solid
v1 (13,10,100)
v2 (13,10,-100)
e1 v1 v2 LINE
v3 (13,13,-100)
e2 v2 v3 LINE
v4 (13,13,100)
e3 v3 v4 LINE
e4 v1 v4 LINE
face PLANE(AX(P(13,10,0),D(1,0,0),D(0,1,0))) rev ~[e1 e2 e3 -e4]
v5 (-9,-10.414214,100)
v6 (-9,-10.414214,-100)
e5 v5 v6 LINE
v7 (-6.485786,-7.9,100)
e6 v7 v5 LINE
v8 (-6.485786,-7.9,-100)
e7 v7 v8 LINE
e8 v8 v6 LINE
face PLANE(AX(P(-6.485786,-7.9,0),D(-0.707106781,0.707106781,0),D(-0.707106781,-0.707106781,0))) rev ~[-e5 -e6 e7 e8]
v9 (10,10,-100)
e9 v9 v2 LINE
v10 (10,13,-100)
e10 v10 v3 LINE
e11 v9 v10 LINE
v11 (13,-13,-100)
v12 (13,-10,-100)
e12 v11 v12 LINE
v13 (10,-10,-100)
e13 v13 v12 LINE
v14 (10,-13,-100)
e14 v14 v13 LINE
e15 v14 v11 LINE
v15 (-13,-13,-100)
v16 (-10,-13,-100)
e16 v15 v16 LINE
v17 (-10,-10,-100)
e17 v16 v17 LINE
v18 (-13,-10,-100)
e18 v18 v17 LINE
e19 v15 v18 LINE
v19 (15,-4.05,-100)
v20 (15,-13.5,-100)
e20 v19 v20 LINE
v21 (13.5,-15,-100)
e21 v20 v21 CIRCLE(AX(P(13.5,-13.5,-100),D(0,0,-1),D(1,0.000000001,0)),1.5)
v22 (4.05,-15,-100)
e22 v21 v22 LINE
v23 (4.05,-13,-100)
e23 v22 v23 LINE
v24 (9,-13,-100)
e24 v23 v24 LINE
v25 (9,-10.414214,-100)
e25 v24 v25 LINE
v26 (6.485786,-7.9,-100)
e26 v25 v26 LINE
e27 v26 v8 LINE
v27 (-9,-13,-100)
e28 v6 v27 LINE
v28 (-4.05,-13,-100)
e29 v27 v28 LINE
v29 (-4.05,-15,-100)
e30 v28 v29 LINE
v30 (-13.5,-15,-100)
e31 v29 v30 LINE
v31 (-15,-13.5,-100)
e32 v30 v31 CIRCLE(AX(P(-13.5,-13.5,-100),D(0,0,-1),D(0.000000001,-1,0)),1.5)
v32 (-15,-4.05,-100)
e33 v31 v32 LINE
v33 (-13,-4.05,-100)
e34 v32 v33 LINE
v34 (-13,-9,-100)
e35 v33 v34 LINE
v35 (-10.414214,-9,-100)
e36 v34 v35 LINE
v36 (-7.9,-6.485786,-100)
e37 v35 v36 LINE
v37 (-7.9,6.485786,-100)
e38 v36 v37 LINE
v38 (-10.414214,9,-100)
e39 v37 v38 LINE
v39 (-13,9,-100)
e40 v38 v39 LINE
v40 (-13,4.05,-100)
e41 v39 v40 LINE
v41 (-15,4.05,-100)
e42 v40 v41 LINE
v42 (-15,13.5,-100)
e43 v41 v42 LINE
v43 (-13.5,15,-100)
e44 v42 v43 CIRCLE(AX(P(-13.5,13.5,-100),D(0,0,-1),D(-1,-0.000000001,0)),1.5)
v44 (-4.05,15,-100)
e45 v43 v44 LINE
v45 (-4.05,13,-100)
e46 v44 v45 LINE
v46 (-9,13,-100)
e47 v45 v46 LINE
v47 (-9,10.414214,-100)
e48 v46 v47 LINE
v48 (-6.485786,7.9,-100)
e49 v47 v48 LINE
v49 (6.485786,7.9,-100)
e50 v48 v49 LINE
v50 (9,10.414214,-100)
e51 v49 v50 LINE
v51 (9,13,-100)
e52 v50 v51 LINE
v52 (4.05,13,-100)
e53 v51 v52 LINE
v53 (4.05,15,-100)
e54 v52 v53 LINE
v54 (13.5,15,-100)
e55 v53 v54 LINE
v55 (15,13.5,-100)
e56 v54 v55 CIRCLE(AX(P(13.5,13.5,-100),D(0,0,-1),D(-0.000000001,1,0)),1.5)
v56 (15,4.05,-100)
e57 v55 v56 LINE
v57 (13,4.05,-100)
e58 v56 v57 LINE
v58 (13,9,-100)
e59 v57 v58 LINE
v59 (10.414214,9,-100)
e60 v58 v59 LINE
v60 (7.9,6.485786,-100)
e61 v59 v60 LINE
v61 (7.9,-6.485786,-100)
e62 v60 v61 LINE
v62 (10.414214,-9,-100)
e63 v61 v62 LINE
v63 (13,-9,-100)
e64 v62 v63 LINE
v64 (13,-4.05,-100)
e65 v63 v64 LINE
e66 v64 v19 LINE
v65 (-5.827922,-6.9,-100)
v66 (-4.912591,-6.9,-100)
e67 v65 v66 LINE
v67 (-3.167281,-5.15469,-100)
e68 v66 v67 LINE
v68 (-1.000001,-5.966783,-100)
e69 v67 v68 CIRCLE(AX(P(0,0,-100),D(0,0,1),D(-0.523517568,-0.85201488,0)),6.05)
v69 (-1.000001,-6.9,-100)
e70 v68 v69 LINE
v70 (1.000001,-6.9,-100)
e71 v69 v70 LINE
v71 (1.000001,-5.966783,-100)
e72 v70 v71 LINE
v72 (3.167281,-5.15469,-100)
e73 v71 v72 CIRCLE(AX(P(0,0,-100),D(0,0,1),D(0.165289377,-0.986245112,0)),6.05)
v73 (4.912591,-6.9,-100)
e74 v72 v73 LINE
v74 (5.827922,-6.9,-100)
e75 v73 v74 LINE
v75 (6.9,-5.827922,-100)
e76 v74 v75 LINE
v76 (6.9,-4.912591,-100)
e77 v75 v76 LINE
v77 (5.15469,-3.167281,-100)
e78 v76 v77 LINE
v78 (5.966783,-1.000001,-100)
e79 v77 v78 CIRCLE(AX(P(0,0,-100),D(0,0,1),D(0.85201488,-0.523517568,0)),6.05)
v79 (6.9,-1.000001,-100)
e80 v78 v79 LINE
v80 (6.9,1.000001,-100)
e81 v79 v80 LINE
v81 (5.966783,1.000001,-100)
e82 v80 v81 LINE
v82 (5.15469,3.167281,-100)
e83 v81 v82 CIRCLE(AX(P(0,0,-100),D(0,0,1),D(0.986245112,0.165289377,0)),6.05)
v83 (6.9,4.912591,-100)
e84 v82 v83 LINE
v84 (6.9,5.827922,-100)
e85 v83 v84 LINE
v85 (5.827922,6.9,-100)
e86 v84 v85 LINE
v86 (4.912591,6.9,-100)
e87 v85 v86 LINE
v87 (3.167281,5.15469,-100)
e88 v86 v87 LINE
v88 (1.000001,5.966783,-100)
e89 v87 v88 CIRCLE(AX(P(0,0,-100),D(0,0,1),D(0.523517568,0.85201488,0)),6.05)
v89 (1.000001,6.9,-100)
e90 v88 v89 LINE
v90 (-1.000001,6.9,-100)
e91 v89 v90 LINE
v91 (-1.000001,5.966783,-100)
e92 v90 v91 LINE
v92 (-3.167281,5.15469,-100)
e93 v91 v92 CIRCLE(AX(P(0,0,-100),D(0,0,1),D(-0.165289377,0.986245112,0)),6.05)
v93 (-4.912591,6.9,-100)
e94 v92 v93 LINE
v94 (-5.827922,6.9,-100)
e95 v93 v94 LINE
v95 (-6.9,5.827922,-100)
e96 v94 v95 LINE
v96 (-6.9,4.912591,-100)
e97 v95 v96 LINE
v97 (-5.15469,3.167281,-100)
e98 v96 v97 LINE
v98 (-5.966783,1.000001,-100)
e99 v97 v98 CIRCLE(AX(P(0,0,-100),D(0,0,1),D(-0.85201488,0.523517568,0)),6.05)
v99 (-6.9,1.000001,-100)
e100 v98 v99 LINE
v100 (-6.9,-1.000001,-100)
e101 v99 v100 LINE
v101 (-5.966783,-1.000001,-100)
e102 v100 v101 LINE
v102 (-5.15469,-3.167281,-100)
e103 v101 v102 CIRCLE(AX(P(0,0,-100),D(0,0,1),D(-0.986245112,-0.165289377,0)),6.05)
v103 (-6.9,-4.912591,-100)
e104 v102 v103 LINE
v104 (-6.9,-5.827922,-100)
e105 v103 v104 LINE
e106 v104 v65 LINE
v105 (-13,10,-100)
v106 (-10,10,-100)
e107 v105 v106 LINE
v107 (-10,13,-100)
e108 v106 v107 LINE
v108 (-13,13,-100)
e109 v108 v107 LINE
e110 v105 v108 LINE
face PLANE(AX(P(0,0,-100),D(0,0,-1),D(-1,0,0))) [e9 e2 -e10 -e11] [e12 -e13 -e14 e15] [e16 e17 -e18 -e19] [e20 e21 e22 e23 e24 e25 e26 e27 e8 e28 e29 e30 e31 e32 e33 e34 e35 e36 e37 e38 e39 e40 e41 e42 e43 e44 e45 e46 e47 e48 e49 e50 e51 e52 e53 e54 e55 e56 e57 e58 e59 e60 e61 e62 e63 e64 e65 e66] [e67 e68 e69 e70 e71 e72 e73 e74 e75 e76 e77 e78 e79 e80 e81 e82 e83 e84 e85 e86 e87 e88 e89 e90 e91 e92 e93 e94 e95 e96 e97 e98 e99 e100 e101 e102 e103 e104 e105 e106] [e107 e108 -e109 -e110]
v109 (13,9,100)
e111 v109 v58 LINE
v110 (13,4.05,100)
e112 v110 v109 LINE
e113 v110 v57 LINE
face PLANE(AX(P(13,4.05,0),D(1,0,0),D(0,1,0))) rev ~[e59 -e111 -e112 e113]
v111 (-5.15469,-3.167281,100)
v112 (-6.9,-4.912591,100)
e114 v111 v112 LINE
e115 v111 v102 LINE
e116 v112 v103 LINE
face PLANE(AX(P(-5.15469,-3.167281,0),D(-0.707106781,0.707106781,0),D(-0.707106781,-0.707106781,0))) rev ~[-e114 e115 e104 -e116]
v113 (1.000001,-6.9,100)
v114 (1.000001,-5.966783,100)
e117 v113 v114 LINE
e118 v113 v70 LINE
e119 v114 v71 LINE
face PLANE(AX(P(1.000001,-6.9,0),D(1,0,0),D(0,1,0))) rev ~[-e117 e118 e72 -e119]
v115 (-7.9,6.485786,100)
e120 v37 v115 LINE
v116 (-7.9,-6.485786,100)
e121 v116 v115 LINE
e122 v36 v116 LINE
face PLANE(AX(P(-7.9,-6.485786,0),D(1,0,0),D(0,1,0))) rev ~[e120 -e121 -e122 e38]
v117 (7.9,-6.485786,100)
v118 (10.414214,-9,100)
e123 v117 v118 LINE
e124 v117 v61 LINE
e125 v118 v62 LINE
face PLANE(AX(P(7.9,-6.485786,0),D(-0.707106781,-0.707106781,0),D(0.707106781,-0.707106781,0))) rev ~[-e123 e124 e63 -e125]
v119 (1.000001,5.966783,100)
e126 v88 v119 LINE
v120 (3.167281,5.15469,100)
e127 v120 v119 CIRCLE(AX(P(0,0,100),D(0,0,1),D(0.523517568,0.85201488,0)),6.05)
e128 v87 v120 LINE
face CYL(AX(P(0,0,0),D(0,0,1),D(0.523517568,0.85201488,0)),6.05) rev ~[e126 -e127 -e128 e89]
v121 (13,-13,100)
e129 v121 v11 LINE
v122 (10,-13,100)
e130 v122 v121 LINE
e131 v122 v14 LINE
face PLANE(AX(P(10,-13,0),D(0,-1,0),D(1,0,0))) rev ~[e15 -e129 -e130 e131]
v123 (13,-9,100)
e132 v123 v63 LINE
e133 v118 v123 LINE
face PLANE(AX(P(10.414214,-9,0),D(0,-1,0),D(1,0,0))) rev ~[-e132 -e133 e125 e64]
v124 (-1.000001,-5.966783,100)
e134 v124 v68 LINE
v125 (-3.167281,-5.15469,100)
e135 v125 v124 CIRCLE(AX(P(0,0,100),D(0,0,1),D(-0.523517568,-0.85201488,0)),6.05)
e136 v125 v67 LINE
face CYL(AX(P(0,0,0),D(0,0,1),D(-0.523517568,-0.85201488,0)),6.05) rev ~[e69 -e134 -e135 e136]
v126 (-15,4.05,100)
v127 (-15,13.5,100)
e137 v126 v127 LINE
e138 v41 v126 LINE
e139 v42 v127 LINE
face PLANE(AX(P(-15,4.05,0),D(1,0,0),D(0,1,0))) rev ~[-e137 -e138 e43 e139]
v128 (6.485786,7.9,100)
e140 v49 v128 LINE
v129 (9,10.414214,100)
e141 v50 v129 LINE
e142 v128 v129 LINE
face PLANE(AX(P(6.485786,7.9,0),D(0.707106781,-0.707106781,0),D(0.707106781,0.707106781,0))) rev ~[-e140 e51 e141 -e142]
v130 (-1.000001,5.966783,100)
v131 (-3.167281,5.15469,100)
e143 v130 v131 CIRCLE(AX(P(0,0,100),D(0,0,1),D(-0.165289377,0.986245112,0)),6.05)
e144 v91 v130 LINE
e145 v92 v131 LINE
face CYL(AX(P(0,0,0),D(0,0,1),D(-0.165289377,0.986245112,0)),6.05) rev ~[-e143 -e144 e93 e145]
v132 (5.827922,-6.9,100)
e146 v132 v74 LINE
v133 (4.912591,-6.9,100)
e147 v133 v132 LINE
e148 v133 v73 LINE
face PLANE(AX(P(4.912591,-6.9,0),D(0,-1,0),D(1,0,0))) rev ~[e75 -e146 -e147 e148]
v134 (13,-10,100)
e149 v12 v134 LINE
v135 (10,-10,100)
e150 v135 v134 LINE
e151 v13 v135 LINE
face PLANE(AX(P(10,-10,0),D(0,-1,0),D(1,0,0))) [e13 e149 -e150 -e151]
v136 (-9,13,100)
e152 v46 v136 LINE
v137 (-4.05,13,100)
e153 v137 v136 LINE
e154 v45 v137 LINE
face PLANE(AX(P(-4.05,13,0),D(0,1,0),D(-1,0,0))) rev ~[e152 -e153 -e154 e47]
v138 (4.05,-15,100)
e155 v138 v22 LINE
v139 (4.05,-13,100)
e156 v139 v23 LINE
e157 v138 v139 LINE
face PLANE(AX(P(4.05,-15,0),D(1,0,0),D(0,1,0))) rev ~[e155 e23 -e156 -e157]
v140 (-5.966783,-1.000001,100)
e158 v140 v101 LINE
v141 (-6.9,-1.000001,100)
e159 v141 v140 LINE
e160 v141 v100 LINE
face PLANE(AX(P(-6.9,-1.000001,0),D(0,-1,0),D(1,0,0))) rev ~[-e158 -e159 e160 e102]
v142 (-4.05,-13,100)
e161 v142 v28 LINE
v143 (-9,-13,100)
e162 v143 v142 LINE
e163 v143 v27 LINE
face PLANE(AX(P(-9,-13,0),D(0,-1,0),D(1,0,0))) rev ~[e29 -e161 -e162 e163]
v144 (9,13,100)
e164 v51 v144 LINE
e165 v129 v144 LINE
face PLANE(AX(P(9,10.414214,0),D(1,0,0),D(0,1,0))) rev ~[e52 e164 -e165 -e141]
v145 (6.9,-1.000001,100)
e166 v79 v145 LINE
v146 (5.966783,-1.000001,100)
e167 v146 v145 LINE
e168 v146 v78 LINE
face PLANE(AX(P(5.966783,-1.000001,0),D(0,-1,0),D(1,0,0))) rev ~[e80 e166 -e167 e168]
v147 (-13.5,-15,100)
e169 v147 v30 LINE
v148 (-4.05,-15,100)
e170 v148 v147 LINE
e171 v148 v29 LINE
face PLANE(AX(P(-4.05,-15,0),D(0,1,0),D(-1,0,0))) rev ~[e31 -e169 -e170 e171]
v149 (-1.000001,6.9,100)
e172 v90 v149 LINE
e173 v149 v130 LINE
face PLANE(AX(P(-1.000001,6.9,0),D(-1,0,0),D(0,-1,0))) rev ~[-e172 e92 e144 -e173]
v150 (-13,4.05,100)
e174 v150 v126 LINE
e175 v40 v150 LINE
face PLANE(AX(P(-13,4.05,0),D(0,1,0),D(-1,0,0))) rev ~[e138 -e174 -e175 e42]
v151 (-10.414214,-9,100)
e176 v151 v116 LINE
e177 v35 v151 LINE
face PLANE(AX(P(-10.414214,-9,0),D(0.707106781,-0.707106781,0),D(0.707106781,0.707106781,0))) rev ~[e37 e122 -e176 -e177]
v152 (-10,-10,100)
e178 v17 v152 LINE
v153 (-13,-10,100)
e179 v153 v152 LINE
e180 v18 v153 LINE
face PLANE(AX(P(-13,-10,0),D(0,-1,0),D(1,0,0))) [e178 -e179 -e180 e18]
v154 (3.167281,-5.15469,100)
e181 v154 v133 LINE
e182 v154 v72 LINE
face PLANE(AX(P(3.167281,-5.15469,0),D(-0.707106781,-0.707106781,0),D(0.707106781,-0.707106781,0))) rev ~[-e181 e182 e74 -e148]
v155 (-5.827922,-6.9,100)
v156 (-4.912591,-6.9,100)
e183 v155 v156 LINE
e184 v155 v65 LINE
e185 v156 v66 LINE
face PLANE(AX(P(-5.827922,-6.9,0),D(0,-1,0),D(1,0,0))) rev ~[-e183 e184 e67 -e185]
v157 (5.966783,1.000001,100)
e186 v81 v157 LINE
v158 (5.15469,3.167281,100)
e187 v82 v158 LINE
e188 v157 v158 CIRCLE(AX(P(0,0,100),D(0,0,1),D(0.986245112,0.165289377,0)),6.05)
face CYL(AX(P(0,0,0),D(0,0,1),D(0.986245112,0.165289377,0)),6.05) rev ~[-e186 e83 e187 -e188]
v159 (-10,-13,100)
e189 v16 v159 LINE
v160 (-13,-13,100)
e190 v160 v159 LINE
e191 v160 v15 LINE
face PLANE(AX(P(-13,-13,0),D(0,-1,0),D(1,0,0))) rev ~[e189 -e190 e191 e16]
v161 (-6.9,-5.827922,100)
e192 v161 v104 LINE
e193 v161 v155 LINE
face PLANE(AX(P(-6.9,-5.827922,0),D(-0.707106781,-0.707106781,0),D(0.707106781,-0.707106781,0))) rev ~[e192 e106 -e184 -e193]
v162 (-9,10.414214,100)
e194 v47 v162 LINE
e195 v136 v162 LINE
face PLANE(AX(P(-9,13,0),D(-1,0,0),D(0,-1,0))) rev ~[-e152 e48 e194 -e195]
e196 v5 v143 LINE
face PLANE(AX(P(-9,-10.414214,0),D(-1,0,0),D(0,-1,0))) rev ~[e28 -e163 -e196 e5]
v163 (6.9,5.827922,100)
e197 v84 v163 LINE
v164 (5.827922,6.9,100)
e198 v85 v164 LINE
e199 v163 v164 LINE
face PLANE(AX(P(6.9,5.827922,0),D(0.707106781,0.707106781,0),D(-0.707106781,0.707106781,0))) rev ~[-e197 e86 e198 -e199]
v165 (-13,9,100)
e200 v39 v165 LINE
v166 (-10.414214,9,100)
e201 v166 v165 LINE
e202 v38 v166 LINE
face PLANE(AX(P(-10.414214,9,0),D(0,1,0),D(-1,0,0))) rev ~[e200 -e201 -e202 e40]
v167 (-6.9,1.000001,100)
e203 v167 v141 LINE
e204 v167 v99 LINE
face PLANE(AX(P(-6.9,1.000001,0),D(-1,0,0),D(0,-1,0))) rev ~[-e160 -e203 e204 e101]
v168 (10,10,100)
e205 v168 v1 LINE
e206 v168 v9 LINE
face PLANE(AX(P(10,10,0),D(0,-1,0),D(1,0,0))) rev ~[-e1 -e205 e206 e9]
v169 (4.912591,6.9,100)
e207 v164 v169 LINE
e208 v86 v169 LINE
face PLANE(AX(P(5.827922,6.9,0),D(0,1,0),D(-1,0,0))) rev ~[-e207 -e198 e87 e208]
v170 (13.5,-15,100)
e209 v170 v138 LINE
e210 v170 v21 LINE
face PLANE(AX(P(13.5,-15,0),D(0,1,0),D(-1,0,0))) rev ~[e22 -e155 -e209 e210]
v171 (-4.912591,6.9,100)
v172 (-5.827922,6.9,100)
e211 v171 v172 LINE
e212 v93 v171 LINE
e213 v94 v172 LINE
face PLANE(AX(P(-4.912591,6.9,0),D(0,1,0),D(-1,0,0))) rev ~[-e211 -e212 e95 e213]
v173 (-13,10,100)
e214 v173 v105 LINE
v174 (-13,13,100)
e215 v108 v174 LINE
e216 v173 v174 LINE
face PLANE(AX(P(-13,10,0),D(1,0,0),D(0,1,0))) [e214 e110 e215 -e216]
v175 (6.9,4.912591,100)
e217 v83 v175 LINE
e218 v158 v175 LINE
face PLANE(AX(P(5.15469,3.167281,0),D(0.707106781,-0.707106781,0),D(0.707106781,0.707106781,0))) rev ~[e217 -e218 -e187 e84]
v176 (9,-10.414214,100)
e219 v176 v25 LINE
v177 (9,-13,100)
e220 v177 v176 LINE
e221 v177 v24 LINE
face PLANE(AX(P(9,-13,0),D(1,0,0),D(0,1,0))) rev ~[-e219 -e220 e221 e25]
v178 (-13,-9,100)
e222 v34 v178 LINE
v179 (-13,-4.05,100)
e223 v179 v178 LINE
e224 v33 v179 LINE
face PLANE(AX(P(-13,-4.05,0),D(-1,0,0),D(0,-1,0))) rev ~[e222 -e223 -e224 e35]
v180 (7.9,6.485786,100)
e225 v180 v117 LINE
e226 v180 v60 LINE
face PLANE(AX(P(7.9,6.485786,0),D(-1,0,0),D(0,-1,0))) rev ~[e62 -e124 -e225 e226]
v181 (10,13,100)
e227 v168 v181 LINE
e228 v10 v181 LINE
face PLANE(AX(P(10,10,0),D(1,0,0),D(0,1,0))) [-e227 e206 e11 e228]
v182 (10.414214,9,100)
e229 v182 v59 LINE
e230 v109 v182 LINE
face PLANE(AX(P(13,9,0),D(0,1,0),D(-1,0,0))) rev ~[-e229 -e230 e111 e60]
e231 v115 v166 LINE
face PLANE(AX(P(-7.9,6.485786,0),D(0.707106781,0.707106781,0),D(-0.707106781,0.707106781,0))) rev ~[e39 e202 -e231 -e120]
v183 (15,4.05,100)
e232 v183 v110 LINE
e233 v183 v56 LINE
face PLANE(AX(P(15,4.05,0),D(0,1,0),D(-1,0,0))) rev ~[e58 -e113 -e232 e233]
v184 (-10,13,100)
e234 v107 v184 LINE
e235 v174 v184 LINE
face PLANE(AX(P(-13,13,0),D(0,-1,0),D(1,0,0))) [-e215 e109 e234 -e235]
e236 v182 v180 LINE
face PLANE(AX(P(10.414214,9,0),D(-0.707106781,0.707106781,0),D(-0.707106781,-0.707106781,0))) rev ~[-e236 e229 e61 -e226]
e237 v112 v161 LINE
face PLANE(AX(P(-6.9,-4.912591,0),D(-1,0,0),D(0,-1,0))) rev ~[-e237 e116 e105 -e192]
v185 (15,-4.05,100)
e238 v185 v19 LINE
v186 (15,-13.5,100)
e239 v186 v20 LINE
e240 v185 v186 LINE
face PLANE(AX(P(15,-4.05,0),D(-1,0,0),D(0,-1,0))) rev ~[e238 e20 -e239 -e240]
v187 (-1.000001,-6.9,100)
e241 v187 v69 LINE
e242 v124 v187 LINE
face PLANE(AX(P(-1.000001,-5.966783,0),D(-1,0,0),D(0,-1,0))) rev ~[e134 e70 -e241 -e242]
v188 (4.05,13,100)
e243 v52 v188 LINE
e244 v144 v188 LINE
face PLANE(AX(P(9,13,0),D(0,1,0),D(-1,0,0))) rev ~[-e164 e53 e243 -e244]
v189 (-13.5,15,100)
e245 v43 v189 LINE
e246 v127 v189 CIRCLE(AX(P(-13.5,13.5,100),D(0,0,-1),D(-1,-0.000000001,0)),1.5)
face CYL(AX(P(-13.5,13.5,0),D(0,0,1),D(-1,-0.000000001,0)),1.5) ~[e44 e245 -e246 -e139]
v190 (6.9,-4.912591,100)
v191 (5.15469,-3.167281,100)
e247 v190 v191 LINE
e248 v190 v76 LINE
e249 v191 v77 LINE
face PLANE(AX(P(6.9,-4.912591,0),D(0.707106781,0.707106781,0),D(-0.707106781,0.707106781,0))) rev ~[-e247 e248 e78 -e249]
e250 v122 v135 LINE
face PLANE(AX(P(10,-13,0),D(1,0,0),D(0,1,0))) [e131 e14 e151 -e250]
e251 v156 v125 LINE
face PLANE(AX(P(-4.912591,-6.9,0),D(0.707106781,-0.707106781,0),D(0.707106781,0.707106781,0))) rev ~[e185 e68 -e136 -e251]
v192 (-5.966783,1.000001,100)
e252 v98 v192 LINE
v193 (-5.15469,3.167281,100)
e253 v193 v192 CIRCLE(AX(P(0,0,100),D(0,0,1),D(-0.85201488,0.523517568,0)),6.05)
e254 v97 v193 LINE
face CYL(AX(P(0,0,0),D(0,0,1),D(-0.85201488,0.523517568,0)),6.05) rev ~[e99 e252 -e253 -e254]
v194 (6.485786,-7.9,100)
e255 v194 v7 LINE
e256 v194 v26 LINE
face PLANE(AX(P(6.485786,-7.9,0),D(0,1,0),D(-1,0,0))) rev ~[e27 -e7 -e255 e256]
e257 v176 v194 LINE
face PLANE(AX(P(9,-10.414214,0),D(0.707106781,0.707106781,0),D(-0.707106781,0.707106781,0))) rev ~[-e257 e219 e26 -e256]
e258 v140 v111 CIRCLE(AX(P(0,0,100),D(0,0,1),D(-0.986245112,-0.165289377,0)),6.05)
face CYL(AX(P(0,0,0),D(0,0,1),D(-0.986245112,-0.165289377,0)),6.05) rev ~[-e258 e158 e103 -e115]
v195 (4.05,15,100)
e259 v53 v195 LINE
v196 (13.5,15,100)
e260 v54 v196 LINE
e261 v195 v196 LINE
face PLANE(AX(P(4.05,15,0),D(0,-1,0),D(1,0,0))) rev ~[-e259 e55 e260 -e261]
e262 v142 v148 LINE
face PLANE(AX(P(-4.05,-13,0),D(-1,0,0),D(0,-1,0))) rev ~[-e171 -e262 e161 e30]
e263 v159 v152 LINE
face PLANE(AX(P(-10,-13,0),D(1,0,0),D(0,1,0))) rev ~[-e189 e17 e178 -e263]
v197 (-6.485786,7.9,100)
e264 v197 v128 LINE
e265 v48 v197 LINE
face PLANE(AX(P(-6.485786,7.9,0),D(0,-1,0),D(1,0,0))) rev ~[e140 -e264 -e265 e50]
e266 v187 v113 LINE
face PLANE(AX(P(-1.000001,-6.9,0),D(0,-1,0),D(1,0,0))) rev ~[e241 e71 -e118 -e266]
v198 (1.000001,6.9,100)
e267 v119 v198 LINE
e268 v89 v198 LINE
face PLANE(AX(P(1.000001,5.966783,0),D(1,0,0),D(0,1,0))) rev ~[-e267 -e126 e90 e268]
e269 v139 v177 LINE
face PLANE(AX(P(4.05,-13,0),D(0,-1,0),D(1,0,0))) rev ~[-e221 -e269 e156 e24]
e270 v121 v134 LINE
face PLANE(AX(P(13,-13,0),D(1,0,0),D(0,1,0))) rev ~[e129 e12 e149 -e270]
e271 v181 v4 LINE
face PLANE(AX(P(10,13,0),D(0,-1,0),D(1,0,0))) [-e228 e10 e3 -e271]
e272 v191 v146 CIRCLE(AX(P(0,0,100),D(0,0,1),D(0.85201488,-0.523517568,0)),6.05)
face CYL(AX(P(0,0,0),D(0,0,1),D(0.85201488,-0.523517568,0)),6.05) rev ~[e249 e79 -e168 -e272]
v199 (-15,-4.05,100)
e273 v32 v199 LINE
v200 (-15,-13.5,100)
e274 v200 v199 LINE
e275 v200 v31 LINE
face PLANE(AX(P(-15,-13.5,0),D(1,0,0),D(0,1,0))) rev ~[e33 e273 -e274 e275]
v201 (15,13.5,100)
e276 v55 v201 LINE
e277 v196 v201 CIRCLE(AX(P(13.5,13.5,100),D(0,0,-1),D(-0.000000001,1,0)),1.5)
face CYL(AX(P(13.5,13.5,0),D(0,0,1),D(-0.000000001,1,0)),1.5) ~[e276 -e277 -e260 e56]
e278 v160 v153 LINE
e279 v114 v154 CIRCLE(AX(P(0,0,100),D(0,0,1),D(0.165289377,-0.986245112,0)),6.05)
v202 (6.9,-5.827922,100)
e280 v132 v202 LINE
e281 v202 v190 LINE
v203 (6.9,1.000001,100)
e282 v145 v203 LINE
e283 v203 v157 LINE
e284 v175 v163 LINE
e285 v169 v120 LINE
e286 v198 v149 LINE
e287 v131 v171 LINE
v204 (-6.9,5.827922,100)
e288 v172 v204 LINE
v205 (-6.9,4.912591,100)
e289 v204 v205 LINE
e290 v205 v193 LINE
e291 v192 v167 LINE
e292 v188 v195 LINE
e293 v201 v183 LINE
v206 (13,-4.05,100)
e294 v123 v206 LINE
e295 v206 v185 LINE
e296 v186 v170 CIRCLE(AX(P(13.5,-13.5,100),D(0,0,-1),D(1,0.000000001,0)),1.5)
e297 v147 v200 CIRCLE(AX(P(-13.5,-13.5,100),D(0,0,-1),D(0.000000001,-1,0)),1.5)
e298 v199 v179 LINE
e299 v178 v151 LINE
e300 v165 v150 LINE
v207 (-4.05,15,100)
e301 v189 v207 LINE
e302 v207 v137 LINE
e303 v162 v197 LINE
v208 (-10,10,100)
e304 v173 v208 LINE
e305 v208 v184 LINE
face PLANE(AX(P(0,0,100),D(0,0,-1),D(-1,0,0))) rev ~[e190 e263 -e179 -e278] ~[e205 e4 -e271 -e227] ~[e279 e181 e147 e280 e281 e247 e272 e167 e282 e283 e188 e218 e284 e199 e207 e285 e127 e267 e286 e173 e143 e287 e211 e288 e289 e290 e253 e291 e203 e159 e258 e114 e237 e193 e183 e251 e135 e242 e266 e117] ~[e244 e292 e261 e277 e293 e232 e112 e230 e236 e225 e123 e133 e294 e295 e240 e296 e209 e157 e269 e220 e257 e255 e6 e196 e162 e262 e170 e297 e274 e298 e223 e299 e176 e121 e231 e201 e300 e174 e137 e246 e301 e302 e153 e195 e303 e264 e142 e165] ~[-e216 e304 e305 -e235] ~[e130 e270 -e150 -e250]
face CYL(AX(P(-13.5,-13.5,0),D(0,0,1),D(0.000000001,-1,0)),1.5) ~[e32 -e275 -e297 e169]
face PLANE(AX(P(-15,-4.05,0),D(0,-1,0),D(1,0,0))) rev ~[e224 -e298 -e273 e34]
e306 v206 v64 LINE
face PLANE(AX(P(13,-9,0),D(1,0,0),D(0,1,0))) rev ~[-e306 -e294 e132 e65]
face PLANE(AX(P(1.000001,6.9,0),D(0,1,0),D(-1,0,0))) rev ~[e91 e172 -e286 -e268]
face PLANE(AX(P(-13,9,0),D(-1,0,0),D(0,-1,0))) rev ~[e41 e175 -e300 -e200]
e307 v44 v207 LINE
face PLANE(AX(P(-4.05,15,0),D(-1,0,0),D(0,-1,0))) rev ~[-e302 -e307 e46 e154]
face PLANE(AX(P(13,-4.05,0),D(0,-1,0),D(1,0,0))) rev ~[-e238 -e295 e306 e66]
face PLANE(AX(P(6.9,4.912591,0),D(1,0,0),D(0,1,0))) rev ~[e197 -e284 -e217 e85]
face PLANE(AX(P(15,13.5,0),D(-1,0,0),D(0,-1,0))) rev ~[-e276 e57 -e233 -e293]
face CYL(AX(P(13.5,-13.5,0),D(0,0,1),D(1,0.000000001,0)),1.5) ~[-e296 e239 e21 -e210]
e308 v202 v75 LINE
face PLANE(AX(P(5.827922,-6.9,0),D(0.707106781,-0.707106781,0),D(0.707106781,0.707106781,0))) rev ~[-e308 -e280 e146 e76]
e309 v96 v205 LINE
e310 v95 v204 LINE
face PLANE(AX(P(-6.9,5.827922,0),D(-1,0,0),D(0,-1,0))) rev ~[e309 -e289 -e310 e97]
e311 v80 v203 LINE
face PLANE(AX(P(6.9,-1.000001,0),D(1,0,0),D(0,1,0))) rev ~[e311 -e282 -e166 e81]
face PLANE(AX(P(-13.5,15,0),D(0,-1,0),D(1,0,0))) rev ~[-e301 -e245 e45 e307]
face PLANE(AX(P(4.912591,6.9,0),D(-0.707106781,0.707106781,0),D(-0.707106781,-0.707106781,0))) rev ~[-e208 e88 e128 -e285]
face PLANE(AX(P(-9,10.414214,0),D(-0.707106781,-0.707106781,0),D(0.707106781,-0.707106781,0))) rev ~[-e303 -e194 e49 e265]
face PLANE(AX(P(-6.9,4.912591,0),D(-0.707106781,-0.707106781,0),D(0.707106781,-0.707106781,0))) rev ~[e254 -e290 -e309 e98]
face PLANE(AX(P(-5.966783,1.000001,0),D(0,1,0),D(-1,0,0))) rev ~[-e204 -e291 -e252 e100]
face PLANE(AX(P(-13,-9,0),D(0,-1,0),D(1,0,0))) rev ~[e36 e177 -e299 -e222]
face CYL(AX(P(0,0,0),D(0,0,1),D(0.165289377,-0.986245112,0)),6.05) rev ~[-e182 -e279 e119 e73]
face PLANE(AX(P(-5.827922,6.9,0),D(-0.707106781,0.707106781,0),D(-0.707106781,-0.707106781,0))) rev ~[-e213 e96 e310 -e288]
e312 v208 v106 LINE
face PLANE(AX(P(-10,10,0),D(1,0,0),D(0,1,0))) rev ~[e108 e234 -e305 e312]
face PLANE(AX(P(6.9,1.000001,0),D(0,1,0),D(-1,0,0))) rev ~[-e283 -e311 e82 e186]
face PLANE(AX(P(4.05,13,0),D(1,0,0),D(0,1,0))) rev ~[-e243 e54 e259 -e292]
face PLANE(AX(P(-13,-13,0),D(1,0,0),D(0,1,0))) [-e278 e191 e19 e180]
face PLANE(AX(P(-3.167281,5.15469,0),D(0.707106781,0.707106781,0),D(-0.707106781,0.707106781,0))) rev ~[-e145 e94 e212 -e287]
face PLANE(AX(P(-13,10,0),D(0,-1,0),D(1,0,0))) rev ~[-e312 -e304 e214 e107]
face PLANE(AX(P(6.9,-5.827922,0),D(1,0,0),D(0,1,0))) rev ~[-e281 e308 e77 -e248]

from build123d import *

# Parameters (mm, degrees)
ESBO_O1_W                = 3
ESBO_O1_H                = 3
RESSALTO_EXTRUS_O1_DEPTH = 100


with BuildPart() as part:
    # Esboço1 → Ressalto-extrusão1 (new, symmetric)
    with BuildSketch(Plane.XY):
        with BuildLine():
            Line((15, 13.5), (15, 4.05))
            Line((15, 4.05), (13, 4.05))
            Line((13, 4.05), (13, 9))
            Line((13, 9), (10.414213562, 9))
            Line((10.414213562, 9), (7.9, 6.485786438))
            Line((7.9, 6.485786438), (7.9, -7.36e-07))
            Line((7.9, -7.36e-07), (7.9, -6.485786438))
            Line((7.9, -6.485786438), (10.414213562, -9))
            Line((10.414213562, -9), (13, -9))
            Line((13, -9), (13, -4.05))
            Line((13, -4.05), (15, -4.05))
            Line((15, -4.05), (15, -13.5))
            ThreePointArc((15, -13.5), (14.560660172, -14.560660172), (13.5, -15))
            Line((13.5, -15), (4.05, -15))
            Line((4.05, -15), (4.05, -13))
            Line((4.05, -13), (9, -13))
            Line((9, -13), (9, -10.414213562))
            Line((9, -10.414213562), (6.485786438, -7.9))
            Line((6.485786438, -7.9), (-7.36e-07, -7.9))
            Line((-7.36e-07, -7.9), (-6.485786438, -7.9))
            Line((-6.485786438, -7.9), (-9, -10.414213562))
            Line((-9, -10.414213562), (-9, -13))
            Line((-9, -13), (-4.05, -13))
            Line((-4.05, -13), (-4.05, -15))
            Line((-4.05, -15), (-13.5, -15))
            ThreePointArc((-13.5, -15), (-14.560660172, -14.560660172), (-15, -13.5))
            Line((-15, -13.5), (-15, -4.05))
            Line((-15, -4.05), (-13, -4.05))
            Line((-13, -4.05), (-13, -9))
            Line((-13, -9), (-10.414213562, -9))
            Line((-10.414213562, -9), (-7.9, -6.485786438))
            Line((-7.9, -6.485786438), (-7.9, 7.36e-07))
            Line((-7.9, 7.36e-07), (-7.9, 6.485786438))
            Line((-7.9, 6.485786438), (-10.414213562, 9))
            Line((-10.414213562, 9), (-13, 9))
            Line((-13, 9), (-13, 4.05))
            Line((-13, 4.05), (-15, 4.05))
            Line((-15, 4.05), (-15, 13.5))
            ThreePointArc((-15, 13.5), (-14.560660172, 14.560660172), (-13.5, 15))
            Line((-13.5, 15), (-4.05, 15))
            Line((-4.05, 15), (-4.05, 13))
            Line((-4.05, 13), (-9, 13))
            Line((-9, 13), (-9, 10.414213562))
            Line((-9, 10.414213562), (-6.485786438, 7.9))
            Line((-6.485786438, 7.9), (7.36e-07, 7.9))
            Line((7.36e-07, 7.9), (6.485786438, 7.9))
            Line((6.485786438, 7.9), (9, 10.414213562))
            Line((9, 10.414213562), (9, 13))
            Line((9, 13), (4.05, 13))
            Line((4.05, 13), (4.05, 15))
            Line((4.05, 15), (13.5, 15))
            ThreePointArc((13.5, 15), (14.560660172, 14.560660172), (15, 13.5))
        make_face()
        with Locations((-11.5, 11.5)):
            Rectangle(ESBO_O1_W, ESBO_O1_H, mode=Mode.SUBTRACT)
        with BuildLine():
            Line((-6.9, 1.000000736), (-6.9, 7.36e-07))
            Line((-6.9, 7.36e-07), (-6.9, -1.000000736))
            Line((-6.9, -1.000000736), (-5.966782929, -1.000000736))
            ThreePointArc((-5.966782929, -1.000000736), (-5.665339038, -2.122836212), (-5.154690025, -3.167281286))
            Line((-5.154690025, -3.167281286), (-6.9, -4.91259126))
            Line((-6.9, -4.91259126), (-6.9, -5.827922061))
            Line((-6.9, -5.827922061), (-5.827922061, -6.9))
            Line((-5.827922061, -6.9), (-4.91259126, -6.9))
            Line((-4.91259126, -6.9), (-3.167281286, -5.154690025))
            ThreePointArc((-3.167281286, -5.154690025), (-2.122836212, -5.665339038), (-1.000000736, -5.966782929))
            Line((-1.000000736, -5.966782929), (-1.000000736, -6.9))
            Line((-1.000000736, -6.9), (-7.36e-07, -6.9))
            Line((-7.36e-07, -6.9), (1.000000736, -6.9))
            Line((1.000000736, -6.9), (1.000000736, -5.966782929))
            ThreePointArc((1.000000736, -5.966782929), (2.122836212, -5.665339038), (3.167281286, -5.154690025))
            Line((3.167281286, -5.154690025), (4.91259126, -6.9))
            Line((4.91259126, -6.9), (5.827922061, -6.9))
            Line((5.827922061, -6.9), (6.9, -5.827922061))
            Line((6.9, -5.827922061), (6.9, -4.91259126))
            Line((6.9, -4.91259126), (5.154690025, -3.167281286))
            ThreePointArc((5.154690025, -3.167281286), (5.665339038, -2.122836212), (5.966782929, -1.000000736))
            Line((5.966782929, -1.000000736), (6.9, -1.000000736))
            Line((6.9, -1.000000736), (6.9, -7.36e-07))
            Line((6.9, -7.36e-07), (6.9, 1.000000736))
            Line((6.9, 1.000000736), (5.966782929, 1.000000736))
            ThreePointArc((5.966782929, 1.000000736), (5.665339038, 2.122836212), (5.154690025, 3.167281286))
            Line((5.154690025, 3.167281286), (6.9, 4.91259126))
            Line((6.9, 4.91259126), (6.9, 5.827922061))
            Line((6.9, 5.827922061), (5.827922061, 6.9))
            Line((5.827922061, 6.9), (4.91259126, 6.9))
            Line((4.91259126, 6.9), (3.167281286, 5.154690025))
            ThreePointArc((3.167281286, 5.154690025), (2.122836212, 5.665339038), (1.000000736, 5.966782929))
            Line((1.000000736, 5.966782929), (1.000000736, 6.9))
            Line((1.000000736, 6.9), (7.36e-07, 6.9))
            Line((7.36e-07, 6.9), (-1.000000736, 6.9))
            Line((-1.000000736, 6.9), (-1.000000736, 5.966782929))
            ThreePointArc((-1.000000736, 5.966782929), (-2.122836212, 5.665339038), (-3.167281286, 5.154690025))
            Line((-3.167281286, 5.154690025), (-4.91259126, 6.9))
            Line((-4.91259126, 6.9), (-5.827922061, 6.9))
            Line((-5.827922061, 6.9), (-6.9, 5.827922061))
            Line((-6.9, 5.827922061), (-6.9, 4.91259126))
            Line((-6.9, 4.91259126), (-5.154690025, 3.167281286))
            ThreePointArc((-5.154690025, 3.167281286), (-5.665339038, 2.122836212), (-5.966782929, 1.000000736))
            Line((-5.966782929, 1.000000736), (-6.9, 1.000000736))
        make_face(mode=Mode.SUBTRACT)
        with Locations((11.5, 11.5)):
            Rectangle(ESBO_O1_W, ESBO_O1_H, mode=Mode.SUBTRACT)
        with Locations((11.5, -11.5)):
            Rectangle(ESBO_O1_W, ESBO_O1_H, mode=Mode.SUBTRACT)
        with Locations((-11.5, -11.5)):
            Rectangle(ESBO_O1_W, ESBO_O1_H, mode=Mode.SUBTRACT)
    extrude(amount=RESSALTO_EXTRUS_O1_DEPTH, both=True)


solid = part.part
